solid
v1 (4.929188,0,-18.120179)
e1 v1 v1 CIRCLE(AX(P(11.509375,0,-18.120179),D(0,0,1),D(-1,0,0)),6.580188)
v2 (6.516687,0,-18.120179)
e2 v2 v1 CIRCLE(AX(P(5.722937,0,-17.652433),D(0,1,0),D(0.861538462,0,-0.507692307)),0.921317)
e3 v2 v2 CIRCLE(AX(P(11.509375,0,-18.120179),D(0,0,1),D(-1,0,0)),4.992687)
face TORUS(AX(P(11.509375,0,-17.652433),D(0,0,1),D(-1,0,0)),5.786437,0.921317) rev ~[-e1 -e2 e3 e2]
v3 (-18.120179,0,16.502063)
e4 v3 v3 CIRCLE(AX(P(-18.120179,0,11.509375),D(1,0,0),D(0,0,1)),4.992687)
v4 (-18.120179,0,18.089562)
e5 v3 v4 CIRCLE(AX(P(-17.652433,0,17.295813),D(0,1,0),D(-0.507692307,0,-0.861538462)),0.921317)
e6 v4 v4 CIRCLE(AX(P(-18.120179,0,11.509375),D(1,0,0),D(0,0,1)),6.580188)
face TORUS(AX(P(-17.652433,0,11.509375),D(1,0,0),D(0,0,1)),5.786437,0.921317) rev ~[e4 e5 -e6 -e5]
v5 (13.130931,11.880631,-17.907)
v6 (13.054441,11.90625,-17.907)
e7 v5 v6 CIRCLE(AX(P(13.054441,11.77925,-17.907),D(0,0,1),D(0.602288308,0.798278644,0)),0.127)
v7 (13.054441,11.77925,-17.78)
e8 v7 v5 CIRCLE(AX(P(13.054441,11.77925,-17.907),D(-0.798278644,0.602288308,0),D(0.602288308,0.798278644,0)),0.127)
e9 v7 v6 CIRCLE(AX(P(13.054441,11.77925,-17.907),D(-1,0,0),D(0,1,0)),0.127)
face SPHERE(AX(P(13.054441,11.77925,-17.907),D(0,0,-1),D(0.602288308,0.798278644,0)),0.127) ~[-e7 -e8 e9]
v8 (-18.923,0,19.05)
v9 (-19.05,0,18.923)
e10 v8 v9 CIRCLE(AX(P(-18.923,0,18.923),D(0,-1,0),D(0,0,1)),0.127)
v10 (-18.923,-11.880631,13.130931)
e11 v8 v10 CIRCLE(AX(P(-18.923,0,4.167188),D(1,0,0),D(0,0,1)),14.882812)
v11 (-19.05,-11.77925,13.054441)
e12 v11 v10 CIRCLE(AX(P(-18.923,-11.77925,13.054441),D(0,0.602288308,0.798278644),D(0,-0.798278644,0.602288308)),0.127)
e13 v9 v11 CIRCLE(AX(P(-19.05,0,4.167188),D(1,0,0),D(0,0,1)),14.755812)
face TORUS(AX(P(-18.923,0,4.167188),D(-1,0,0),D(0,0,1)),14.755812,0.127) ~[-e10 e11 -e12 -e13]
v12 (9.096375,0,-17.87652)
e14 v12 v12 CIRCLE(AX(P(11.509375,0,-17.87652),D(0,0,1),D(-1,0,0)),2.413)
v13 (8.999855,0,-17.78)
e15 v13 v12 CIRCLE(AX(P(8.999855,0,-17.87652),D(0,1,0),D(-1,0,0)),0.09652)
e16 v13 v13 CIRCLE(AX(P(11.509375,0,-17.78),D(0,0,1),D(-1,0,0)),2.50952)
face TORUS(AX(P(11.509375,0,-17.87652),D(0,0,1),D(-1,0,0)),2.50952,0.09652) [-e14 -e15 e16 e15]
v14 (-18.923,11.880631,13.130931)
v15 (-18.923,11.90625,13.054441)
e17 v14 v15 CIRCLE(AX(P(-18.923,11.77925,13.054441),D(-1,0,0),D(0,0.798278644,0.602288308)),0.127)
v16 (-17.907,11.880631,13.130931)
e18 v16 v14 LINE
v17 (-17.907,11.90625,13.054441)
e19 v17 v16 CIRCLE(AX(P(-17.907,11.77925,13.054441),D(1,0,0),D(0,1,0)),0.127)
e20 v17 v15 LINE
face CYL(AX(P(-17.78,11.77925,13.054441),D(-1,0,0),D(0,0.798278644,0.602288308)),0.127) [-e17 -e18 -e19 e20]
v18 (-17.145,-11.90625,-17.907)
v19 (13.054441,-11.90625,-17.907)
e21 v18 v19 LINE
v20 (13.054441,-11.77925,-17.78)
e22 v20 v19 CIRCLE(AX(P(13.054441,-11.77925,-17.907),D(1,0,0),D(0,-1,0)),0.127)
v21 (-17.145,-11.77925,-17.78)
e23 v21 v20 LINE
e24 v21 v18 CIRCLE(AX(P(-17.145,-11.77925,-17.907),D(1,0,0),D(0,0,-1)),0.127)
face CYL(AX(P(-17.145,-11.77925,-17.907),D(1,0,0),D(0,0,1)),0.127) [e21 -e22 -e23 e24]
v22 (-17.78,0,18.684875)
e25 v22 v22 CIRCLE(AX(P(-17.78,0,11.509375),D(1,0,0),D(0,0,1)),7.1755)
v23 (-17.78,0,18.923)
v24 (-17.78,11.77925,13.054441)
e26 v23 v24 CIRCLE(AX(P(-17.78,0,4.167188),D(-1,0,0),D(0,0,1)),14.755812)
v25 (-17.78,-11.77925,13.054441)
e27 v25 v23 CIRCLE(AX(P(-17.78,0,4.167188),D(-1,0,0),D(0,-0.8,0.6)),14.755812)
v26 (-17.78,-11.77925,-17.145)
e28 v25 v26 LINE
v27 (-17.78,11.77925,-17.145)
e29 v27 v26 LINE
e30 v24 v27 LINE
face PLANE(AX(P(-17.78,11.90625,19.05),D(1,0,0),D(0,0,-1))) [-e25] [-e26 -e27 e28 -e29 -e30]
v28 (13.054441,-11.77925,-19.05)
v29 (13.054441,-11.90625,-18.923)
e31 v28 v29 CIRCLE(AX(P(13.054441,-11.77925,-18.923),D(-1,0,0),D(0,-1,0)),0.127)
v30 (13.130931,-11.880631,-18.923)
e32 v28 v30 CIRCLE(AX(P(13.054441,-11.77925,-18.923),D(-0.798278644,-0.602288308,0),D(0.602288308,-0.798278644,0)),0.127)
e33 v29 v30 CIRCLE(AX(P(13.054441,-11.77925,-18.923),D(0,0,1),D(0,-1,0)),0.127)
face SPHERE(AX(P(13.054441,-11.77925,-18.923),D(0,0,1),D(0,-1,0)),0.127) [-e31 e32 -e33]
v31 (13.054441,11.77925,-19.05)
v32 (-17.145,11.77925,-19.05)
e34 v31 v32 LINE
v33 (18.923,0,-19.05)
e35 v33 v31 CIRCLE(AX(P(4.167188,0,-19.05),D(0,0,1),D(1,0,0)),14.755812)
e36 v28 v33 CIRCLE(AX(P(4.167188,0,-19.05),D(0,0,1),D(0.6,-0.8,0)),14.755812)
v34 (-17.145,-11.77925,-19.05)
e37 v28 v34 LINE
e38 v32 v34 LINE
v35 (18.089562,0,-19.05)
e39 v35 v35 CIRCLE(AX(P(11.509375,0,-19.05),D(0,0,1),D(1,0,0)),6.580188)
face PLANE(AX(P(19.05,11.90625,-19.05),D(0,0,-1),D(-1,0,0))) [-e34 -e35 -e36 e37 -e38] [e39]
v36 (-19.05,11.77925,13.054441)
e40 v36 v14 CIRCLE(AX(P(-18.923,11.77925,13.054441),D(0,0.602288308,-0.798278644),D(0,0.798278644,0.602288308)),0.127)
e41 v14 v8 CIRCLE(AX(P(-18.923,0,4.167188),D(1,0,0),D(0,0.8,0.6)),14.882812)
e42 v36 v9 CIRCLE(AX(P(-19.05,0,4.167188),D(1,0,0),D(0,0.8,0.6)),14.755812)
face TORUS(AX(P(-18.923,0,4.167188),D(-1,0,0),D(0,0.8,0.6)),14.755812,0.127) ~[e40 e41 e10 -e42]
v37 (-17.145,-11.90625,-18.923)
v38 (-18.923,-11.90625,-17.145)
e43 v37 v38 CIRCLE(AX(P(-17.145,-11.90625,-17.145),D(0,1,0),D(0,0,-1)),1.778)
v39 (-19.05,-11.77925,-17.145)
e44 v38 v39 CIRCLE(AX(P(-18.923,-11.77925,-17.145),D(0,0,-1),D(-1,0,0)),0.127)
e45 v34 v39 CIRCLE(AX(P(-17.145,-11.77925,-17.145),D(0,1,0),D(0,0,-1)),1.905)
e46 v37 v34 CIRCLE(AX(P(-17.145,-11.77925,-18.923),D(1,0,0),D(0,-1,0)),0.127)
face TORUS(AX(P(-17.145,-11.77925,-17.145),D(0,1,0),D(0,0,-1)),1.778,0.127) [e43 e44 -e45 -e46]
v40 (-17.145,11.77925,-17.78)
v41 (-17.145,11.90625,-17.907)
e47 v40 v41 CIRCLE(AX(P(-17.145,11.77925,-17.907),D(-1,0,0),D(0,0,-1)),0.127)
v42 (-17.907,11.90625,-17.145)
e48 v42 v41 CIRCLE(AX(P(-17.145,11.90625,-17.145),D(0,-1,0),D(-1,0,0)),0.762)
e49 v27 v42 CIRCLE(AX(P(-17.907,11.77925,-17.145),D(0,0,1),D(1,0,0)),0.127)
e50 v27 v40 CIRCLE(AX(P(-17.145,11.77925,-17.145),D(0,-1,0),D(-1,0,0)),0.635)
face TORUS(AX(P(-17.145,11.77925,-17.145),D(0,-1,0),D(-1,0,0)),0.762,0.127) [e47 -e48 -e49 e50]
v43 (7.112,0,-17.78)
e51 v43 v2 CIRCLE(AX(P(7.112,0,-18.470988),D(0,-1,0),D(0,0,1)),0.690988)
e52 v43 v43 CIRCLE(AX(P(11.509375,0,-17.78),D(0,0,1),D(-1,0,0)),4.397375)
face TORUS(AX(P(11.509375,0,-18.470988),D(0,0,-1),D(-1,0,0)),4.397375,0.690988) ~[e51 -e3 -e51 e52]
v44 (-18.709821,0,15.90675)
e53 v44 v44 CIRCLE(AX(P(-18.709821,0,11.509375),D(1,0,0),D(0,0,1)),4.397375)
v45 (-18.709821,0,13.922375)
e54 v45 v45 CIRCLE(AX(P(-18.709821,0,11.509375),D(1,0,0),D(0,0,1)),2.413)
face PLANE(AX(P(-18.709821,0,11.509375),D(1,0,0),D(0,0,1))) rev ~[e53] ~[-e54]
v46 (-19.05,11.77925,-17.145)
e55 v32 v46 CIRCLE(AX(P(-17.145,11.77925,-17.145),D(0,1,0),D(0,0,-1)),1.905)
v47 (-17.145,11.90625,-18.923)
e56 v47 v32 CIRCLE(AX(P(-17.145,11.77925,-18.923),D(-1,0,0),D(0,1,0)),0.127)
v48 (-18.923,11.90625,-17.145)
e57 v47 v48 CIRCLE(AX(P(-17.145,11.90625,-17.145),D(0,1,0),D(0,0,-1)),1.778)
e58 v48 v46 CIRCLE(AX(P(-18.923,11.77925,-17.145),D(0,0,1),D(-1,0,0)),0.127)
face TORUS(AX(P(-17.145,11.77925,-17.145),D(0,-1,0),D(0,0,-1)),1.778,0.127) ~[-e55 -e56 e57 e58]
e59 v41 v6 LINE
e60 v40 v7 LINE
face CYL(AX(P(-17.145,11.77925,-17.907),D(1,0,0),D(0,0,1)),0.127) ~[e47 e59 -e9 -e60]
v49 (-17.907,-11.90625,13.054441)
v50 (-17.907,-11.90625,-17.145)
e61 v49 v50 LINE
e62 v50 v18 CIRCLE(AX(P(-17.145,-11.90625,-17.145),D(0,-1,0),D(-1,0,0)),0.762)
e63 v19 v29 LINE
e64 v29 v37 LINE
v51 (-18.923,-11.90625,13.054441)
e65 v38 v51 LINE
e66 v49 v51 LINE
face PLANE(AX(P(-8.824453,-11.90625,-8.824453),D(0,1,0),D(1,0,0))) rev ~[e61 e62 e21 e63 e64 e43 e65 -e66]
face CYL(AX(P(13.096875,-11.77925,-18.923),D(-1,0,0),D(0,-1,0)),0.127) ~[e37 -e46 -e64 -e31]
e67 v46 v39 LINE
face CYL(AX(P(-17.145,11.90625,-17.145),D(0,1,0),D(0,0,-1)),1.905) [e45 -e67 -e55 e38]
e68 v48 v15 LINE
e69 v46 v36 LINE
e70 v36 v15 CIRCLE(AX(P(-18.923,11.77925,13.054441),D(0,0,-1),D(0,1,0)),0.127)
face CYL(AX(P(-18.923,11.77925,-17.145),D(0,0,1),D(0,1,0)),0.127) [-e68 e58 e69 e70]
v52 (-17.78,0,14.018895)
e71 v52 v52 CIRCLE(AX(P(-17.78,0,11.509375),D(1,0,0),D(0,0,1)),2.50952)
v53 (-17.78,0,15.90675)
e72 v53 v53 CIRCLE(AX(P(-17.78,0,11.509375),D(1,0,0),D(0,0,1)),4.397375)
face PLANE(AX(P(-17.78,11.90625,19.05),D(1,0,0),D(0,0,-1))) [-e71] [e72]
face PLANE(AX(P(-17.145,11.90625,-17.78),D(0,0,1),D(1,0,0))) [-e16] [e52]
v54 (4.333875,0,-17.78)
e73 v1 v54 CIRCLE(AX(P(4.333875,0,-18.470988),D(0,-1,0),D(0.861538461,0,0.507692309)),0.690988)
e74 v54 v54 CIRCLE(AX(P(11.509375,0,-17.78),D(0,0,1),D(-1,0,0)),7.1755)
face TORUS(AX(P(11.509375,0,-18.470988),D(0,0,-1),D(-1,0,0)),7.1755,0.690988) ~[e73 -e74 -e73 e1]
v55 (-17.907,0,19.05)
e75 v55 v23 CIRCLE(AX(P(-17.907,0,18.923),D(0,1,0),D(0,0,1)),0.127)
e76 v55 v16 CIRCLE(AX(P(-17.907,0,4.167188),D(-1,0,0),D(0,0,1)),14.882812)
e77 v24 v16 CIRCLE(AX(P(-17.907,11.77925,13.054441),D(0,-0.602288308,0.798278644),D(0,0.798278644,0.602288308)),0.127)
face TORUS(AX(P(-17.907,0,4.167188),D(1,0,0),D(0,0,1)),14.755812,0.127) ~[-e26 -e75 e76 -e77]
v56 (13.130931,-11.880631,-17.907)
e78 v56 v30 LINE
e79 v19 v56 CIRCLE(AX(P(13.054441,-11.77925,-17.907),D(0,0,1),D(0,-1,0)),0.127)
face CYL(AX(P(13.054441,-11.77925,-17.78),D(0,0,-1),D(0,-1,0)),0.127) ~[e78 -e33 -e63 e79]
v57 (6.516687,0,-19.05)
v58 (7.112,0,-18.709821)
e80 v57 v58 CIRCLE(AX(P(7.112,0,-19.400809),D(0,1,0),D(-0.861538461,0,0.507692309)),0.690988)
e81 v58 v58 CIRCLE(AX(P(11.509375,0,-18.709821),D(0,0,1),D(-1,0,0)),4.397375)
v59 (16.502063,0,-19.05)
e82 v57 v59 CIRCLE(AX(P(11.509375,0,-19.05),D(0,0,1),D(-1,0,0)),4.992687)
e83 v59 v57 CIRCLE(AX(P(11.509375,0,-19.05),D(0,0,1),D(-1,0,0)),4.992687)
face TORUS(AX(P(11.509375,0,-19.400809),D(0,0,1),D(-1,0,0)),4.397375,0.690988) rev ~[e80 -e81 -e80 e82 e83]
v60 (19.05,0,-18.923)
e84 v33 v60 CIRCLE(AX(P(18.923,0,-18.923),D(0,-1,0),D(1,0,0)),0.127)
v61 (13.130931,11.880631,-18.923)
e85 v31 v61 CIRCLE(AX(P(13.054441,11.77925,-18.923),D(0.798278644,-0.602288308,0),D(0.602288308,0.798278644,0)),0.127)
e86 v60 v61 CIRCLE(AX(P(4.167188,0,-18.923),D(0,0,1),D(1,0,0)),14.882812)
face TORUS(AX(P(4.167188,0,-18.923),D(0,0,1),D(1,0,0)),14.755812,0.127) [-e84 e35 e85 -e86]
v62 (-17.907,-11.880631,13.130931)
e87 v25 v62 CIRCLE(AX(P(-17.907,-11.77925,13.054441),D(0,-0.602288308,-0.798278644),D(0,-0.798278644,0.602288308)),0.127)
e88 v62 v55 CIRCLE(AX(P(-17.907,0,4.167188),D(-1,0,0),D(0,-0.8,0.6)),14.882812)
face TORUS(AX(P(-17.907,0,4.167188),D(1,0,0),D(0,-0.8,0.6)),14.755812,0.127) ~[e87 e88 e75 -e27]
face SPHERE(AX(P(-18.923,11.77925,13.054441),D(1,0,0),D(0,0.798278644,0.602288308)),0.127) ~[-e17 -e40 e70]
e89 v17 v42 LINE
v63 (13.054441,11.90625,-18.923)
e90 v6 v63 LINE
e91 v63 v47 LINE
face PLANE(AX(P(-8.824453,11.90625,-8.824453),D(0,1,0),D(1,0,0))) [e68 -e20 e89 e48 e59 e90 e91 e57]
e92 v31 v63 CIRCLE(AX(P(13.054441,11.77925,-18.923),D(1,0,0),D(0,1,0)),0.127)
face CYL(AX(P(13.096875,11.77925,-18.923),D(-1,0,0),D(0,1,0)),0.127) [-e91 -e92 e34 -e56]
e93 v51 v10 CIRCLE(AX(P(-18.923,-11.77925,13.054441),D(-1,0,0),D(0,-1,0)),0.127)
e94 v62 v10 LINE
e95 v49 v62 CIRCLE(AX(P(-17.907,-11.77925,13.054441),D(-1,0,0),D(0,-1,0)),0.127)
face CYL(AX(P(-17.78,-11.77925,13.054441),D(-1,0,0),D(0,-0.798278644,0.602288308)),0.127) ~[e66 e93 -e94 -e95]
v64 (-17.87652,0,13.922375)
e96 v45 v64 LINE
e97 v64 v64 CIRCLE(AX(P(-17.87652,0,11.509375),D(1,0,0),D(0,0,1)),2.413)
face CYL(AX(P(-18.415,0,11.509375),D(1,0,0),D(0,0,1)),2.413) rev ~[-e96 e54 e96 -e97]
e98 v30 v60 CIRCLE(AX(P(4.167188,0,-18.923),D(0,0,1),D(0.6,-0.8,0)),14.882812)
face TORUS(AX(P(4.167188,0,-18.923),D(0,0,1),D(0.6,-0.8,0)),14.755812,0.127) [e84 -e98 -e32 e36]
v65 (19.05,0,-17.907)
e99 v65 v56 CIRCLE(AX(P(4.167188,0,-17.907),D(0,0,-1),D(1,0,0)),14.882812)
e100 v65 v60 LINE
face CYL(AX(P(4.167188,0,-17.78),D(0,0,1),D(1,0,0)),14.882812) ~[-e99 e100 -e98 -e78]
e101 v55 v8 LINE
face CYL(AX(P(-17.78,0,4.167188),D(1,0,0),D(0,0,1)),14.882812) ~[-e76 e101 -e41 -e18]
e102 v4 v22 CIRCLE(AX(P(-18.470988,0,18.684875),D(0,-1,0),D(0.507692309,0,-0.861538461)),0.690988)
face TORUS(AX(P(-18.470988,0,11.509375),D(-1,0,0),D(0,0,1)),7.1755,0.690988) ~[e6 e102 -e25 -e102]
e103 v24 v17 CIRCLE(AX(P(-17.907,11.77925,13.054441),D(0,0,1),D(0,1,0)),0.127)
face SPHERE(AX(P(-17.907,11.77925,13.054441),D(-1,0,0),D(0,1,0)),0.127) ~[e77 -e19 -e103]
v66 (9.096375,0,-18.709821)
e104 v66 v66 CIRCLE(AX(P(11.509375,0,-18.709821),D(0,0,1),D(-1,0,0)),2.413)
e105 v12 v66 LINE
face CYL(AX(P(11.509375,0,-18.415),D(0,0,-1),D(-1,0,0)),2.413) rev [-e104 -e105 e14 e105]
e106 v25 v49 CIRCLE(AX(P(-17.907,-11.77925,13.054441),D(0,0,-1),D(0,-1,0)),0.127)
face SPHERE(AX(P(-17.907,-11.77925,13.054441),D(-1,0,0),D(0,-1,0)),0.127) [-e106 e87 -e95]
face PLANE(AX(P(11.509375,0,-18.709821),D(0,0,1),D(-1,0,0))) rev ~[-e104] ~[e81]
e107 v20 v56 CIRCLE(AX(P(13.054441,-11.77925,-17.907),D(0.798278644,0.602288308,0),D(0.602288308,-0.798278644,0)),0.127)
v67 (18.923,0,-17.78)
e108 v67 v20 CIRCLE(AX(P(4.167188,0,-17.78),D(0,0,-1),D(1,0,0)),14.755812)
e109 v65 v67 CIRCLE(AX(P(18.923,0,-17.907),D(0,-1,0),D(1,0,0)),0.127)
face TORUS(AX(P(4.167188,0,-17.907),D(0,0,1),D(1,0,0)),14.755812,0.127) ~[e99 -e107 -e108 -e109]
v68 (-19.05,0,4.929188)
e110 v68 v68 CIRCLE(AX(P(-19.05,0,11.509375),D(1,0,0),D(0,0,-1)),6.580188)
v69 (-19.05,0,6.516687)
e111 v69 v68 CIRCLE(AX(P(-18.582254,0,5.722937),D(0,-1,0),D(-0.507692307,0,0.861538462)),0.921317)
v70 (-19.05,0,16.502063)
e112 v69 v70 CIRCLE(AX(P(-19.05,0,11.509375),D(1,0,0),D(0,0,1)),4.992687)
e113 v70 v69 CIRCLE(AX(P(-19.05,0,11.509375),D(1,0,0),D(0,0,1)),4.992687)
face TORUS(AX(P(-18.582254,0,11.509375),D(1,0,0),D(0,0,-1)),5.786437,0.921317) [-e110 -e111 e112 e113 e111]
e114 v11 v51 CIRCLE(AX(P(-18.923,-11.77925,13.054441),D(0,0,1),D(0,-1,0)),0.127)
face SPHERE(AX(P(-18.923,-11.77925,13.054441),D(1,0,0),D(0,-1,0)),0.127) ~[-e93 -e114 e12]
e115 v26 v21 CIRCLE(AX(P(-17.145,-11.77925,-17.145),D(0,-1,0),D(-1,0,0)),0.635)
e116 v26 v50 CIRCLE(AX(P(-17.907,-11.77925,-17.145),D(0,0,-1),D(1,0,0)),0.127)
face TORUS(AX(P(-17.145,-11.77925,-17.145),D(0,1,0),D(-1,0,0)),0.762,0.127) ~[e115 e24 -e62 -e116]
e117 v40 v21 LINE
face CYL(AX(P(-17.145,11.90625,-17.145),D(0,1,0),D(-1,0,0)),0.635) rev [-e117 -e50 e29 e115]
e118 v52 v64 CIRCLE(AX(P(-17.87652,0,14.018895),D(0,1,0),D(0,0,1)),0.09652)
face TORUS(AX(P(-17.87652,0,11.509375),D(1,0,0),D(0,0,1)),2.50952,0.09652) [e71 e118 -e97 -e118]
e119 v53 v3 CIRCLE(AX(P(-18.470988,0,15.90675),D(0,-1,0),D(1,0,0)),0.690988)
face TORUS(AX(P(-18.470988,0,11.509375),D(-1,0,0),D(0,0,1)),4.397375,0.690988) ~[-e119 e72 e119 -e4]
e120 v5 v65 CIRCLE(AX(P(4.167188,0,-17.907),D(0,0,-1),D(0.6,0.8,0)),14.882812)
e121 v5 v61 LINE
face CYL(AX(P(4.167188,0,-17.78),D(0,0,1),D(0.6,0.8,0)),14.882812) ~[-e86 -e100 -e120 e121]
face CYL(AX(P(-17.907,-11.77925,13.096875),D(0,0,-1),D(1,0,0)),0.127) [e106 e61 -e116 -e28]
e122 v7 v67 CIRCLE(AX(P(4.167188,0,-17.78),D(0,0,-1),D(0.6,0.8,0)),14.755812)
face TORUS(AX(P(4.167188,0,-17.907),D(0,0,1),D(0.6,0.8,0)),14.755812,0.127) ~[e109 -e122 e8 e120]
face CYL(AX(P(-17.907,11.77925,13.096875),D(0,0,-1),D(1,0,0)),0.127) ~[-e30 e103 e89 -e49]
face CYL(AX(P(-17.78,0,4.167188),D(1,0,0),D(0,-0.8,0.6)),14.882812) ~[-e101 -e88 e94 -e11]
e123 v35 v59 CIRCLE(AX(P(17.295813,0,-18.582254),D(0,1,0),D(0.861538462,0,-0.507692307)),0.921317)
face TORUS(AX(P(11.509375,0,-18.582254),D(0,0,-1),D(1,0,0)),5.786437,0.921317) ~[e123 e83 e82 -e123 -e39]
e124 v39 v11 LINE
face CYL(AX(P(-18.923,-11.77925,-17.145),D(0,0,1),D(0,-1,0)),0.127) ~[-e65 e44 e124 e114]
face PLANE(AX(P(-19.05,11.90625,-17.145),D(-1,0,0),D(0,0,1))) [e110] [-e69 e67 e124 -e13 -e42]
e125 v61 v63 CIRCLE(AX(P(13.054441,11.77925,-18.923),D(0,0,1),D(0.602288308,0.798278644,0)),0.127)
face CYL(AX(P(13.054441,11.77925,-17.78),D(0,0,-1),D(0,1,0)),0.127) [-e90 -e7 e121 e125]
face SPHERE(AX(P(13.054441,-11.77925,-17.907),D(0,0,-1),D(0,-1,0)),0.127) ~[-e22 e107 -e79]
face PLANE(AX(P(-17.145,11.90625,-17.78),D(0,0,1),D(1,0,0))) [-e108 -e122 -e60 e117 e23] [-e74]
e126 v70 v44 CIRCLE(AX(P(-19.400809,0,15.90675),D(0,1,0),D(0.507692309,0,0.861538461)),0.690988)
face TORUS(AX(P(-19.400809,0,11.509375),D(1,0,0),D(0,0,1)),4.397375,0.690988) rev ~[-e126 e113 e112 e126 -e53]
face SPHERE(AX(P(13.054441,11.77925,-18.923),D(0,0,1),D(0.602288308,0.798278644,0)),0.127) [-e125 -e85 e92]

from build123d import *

# Parameters (mm, degrees)
BOSS_EXTRUDE1_START = 11.90625
BOSS_EXTRUDE1_DEPTH = 23.8125
SKETCH4_W           = 1.27
SKETCH4_H           = 2.413
SKETCH5_W           = 2.413
SKETCH5_H           = 1.27
CUT_EXTRUDE1_DEPTH  = 44.140586332
CUT_EXTRUDE2_DEPTH  = 44.140586332
FILLET1_R           = 0.127
FILLET2_R           = 0.09652


with BuildPart() as part:
    # Sketch3 → Boss-Extrude1 (new body)
    with BuildSketch(Plane(origin=(0, 0, 0), x_dir=(1, 0, 0), z_dir=(0, 1, 0)).offset(BOSS_EXTRUDE1_START)):
        with BuildLine():
            Line((-19.05, -19.05), (-17.78, -19.05))
            Line((-17.78, -19.05), (-17.78, 17.145))
            ThreePointArc((-17.78, 17.145), (-17.594012806, 17.594012806), (-17.145, 17.78))
            Line((-17.145, 17.78), (19.05, 17.78))
            Line((19.05, 17.78), (19.05, 19.05))
            Line((19.05, 19.05), (-17.145, 19.05))
            ThreePointArc((-17.145, 19.05), (-18.492038418, 18.492038418), (-19.05, 17.145))
            Line((-19.05, 17.145), (-19.05, -19.05))
        make_face()
    extrude(amount=-BOSS_EXTRUDE1_DEPTH)

    # Sketch4 → Cut-Revolve1 (revolve, cut)
    with BuildSketch(Plane(origin=(0, 0, 0), x_dir=(1, 0, 0), z_dir=(0, 1, 0)), mode=Mode.PRIVATE) as cut_revolve1_sk:
        with Locations((-18.415, -10.302875)):
            Rectangle(SKETCH4_W, SKETCH4_H)
    revolve(cut_revolve1_sk.sketch.rotate(Axis((-19.05, 0, 11.509375), (1, 0, 0)), 180), axis=Axis((-19.05, 0, 11.509375), (1, 0, 0)), mode=Mode.SUBTRACT)

    # Sketch5 → Cut-Revolve2 (revolve, cut)
    with BuildSketch(Plane(origin=(0, 0, 0), x_dir=(1, 0, 0), z_dir=(0, 1, 0)), mode=Mode.PRIVATE) as cut_revolve2_sk:
        with Locations((12.715875, 18.415)):
            Rectangle(SKETCH5_W, SKETCH5_H)
    revolve(cut_revolve2_sk.sketch.rotate(Axis((11.509375, 0, -19.05), (0, 0, 1)), 180), axis=Axis((11.509375, 0, -19.05), (0, 0, 1)), mode=Mode.SUBTRACT)

    # Sketch6 → Cut-Extrude1 (cut, through all)
    with BuildSketch(Plane(origin=(-17.78, 0, 0), x_dir=(0, 0, -1), z_dir=(1, 0, 0))):
        with BuildLine():
            ThreePointArc((-19.05, 0), (-17.478779679, 6.655796089), (-13.096875, 11.90625))
            Line((-13.096875, 11.90625), (-19.05, 11.90625))
            Line((-19.05, 11.90625), (-19.05, 0))
        make_face()
        with BuildLine():
            ThreePointArc((-13.096875, -11.90625), (-17.478779679, -6.655796089), (-19.05, 0))
            Line((-19.05, 0), (-19.05, -11.90625))
            Line((-19.05, -11.90625), (-13.096875, -11.90625))
        make_face()
    extrude(amount=-CUT_EXTRUDE1_DEPTH, mode=Mode.SUBTRACT)

    # Sketch7 → Cut-Extrude2 (cut, through all)
    with BuildSketch(Plane.XY.offset(-17.78)):
        with BuildLine():
            Line((19.05, 11.90625), (13.096875, 11.90625))
            ThreePointArc((13.096875, 11.90625), (17.478779679, 6.655796089), (19.05, 0))
            Line((19.05, 0), (19.05, 11.90625))
        make_face()
        with BuildLine():
            Line((19.05, -11.90625), (19.05, 0))
            ThreePointArc((19.05, 0), (17.478779679, -6.655796089), (13.096875, -11.90625))
            Line((13.096875, -11.90625), (19.05, -11.90625))
        make_face()
    extrude(amount=-CUT_EXTRUDE2_DEPTH, mode=Mode.SUBTRACT)

    # Fillet1
    fillet1_edges = [part.edges().sort_by_distance(p)[0] for p in [
        (-19.05, 11.90625, -2.0240625),
        (-17.594012806, -11.90625, -17.594012806),
        (-2.0240625, -11.90625, -17.78),
        (-18.492038418, -11.90625, -18.492038418),
        (-17.78, 11.90625, -2.0240625),
        (-17.78, 0, 19.05),
        (-18.415, 11.90625, 13.096875),
        (-19.05, 0, 19.05),
        (-19.05, -11.90625, -2.0240625),
        (-17.78, -11.90625, -2.0240625),
        (-18.415, -11.90625, 13.096875),
        (-2.0240625, 11.90625, -19.05),
        (13.096875, 11.90625, -18.415),
        (19.05, 0, -19.05),
        (19.05, 0, -17.78),
        (-2.0240625, -11.90625, -19.05),
        (13.096875, -11.90625, -18.415),
        (-18.492038418, 11.90625, -18.492038418),
        (-2.0240625, 11.90625, -17.78),
        (-17.594012806, 11.90625, -17.594012806),
    ]]
    fillet(fillet1_edges, radius=FILLET1_R)

    # Fillet2
    fillet2_edges = [part.edges().sort_by_distance(p)[0] for p in [
        (-19.05, 0, 9.096375),
        (-17.78, 0, 9.096375),
        (13.922375, 0, -17.78),
        (13.922375, 0, -19.05),
    ]]
    fillet(fillet2_edges, radius=FILLET2_R)

    # Sketch8 → Cut-Revolve3 (revolve, cut)
    with BuildSketch(Plane(origin=(0, 0, 0), x_dir=(1, 0, 0), z_dir=(0, 1, 0)), mode=Mode.PRIVATE) as cut_revolve3_sk:
        with BuildLine():
            Line((-17.78, -4.333875), (-17.78, -7.112))
            ThreePointArc((-17.78, -7.112), (-17.871042371, -6.769174085), (-18.120178571, -6.5166875))
            ThreePointArc((-18.120178571, -6.5166875), (-18.57375, -5.7229375), (-18.120178571, -4.9291875))
            ThreePointArc((-18.120178571, -4.9291875), (-17.871042371, -4.676700915), (-17.78, -4.333875))
        make_face()
        with BuildLine():
            Line((-18.709821429, -7.112), (-18.709821429, -9.096375))
            Line((-18.709821429, -9.096375), (-19.05, -9.096375))
            Line((-19.05, -9.096375), (-19.05, -6.5166875))
            ThreePointArc((-19.05, -6.5166875), (-18.8008638, -6.769174085), (-18.709821429, -7.112))
        make_face()
    revolve(cut_revolve3_sk.sketch.rotate(Axis((-19.05, 0, 11.509375), (1, 0, 0)), 180), axis=Axis((-19.05, 0, 11.509375), (1, 0, 0)), mode=Mode.SUBTRACT)

    # Sketch9 → Revolve1 (revolve)
    with BuildSketch(Plane(origin=(0, 0, 0), x_dir=(1, 0, 0), z_dir=(0, 1, 0))):
        with BuildLine():
            Line((-19.05, -4.9291875), (-19.05, -6.5166875))
            ThreePointArc((-19.05, -6.5166875), (-19.503571429, -5.7229375), (-19.05, -4.9291875))
        make_face()
    revolve(axis=Axis((-19.05, 0, 11.509375), (1, 0, 0)))

    # Sketch10 → Cut-Revolve4 (revolve, cut)
    with BuildSketch(Plane(origin=(0, 0, 0), x_dir=(1, 0, 0), z_dir=(0, 1, 0)), mode=Mode.PRIVATE) as cut_revolve4_sk:
        with BuildLine():
            Line((18.684875, 17.78), (15.90675, 17.78))
            ThreePointArc((15.90675, 17.78), (16.249575915, 17.871042371), (16.5020625, 18.120178571))
            ThreePointArc((16.5020625, 18.120178571), (17.2958125, 18.57375), (18.0895625, 18.120178571))
            ThreePointArc((18.0895625, 18.120178571), (18.342049085, 17.871042371), (18.684875, 17.78))
        make_face()
        with BuildLine():
            Line((15.90675, 18.709821429), (13.922375, 18.709821429))
            Line((13.922375, 18.709821429), (13.922375, 19.05))
            Line((13.922375, 19.05), (16.5020625, 19.05))
            ThreePointArc((16.5020625, 19.05), (16.249575915, 18.8008638), (15.90675, 18.709821429))
        make_face()
    revolve(cut_revolve4_sk.sketch.rotate(Axis((11.509375, 0, -19.05), (0, 0, 1)), 180), axis=Axis((11.509375, 0, -19.05), (0, 0, 1)), mode=Mode.SUBTRACT)

    # Sketch11 → Revolve2 (revolve)
    with BuildSketch(Plane(origin=(0, 0, 0), x_dir=(1, 0, 0), z_dir=(0, 1, 0))):
        with BuildLine():
            Line((16.5020625, 19.05), (18.0895625, 19.05))
            ThreePointArc((18.0895625, 19.05), (17.2958125, 19.503571429), (16.5020625, 19.05))
        make_face()
    revolve(axis=Axis((11.509375, 0, -19.05), (0, 0, 1)))


solid = part.part
